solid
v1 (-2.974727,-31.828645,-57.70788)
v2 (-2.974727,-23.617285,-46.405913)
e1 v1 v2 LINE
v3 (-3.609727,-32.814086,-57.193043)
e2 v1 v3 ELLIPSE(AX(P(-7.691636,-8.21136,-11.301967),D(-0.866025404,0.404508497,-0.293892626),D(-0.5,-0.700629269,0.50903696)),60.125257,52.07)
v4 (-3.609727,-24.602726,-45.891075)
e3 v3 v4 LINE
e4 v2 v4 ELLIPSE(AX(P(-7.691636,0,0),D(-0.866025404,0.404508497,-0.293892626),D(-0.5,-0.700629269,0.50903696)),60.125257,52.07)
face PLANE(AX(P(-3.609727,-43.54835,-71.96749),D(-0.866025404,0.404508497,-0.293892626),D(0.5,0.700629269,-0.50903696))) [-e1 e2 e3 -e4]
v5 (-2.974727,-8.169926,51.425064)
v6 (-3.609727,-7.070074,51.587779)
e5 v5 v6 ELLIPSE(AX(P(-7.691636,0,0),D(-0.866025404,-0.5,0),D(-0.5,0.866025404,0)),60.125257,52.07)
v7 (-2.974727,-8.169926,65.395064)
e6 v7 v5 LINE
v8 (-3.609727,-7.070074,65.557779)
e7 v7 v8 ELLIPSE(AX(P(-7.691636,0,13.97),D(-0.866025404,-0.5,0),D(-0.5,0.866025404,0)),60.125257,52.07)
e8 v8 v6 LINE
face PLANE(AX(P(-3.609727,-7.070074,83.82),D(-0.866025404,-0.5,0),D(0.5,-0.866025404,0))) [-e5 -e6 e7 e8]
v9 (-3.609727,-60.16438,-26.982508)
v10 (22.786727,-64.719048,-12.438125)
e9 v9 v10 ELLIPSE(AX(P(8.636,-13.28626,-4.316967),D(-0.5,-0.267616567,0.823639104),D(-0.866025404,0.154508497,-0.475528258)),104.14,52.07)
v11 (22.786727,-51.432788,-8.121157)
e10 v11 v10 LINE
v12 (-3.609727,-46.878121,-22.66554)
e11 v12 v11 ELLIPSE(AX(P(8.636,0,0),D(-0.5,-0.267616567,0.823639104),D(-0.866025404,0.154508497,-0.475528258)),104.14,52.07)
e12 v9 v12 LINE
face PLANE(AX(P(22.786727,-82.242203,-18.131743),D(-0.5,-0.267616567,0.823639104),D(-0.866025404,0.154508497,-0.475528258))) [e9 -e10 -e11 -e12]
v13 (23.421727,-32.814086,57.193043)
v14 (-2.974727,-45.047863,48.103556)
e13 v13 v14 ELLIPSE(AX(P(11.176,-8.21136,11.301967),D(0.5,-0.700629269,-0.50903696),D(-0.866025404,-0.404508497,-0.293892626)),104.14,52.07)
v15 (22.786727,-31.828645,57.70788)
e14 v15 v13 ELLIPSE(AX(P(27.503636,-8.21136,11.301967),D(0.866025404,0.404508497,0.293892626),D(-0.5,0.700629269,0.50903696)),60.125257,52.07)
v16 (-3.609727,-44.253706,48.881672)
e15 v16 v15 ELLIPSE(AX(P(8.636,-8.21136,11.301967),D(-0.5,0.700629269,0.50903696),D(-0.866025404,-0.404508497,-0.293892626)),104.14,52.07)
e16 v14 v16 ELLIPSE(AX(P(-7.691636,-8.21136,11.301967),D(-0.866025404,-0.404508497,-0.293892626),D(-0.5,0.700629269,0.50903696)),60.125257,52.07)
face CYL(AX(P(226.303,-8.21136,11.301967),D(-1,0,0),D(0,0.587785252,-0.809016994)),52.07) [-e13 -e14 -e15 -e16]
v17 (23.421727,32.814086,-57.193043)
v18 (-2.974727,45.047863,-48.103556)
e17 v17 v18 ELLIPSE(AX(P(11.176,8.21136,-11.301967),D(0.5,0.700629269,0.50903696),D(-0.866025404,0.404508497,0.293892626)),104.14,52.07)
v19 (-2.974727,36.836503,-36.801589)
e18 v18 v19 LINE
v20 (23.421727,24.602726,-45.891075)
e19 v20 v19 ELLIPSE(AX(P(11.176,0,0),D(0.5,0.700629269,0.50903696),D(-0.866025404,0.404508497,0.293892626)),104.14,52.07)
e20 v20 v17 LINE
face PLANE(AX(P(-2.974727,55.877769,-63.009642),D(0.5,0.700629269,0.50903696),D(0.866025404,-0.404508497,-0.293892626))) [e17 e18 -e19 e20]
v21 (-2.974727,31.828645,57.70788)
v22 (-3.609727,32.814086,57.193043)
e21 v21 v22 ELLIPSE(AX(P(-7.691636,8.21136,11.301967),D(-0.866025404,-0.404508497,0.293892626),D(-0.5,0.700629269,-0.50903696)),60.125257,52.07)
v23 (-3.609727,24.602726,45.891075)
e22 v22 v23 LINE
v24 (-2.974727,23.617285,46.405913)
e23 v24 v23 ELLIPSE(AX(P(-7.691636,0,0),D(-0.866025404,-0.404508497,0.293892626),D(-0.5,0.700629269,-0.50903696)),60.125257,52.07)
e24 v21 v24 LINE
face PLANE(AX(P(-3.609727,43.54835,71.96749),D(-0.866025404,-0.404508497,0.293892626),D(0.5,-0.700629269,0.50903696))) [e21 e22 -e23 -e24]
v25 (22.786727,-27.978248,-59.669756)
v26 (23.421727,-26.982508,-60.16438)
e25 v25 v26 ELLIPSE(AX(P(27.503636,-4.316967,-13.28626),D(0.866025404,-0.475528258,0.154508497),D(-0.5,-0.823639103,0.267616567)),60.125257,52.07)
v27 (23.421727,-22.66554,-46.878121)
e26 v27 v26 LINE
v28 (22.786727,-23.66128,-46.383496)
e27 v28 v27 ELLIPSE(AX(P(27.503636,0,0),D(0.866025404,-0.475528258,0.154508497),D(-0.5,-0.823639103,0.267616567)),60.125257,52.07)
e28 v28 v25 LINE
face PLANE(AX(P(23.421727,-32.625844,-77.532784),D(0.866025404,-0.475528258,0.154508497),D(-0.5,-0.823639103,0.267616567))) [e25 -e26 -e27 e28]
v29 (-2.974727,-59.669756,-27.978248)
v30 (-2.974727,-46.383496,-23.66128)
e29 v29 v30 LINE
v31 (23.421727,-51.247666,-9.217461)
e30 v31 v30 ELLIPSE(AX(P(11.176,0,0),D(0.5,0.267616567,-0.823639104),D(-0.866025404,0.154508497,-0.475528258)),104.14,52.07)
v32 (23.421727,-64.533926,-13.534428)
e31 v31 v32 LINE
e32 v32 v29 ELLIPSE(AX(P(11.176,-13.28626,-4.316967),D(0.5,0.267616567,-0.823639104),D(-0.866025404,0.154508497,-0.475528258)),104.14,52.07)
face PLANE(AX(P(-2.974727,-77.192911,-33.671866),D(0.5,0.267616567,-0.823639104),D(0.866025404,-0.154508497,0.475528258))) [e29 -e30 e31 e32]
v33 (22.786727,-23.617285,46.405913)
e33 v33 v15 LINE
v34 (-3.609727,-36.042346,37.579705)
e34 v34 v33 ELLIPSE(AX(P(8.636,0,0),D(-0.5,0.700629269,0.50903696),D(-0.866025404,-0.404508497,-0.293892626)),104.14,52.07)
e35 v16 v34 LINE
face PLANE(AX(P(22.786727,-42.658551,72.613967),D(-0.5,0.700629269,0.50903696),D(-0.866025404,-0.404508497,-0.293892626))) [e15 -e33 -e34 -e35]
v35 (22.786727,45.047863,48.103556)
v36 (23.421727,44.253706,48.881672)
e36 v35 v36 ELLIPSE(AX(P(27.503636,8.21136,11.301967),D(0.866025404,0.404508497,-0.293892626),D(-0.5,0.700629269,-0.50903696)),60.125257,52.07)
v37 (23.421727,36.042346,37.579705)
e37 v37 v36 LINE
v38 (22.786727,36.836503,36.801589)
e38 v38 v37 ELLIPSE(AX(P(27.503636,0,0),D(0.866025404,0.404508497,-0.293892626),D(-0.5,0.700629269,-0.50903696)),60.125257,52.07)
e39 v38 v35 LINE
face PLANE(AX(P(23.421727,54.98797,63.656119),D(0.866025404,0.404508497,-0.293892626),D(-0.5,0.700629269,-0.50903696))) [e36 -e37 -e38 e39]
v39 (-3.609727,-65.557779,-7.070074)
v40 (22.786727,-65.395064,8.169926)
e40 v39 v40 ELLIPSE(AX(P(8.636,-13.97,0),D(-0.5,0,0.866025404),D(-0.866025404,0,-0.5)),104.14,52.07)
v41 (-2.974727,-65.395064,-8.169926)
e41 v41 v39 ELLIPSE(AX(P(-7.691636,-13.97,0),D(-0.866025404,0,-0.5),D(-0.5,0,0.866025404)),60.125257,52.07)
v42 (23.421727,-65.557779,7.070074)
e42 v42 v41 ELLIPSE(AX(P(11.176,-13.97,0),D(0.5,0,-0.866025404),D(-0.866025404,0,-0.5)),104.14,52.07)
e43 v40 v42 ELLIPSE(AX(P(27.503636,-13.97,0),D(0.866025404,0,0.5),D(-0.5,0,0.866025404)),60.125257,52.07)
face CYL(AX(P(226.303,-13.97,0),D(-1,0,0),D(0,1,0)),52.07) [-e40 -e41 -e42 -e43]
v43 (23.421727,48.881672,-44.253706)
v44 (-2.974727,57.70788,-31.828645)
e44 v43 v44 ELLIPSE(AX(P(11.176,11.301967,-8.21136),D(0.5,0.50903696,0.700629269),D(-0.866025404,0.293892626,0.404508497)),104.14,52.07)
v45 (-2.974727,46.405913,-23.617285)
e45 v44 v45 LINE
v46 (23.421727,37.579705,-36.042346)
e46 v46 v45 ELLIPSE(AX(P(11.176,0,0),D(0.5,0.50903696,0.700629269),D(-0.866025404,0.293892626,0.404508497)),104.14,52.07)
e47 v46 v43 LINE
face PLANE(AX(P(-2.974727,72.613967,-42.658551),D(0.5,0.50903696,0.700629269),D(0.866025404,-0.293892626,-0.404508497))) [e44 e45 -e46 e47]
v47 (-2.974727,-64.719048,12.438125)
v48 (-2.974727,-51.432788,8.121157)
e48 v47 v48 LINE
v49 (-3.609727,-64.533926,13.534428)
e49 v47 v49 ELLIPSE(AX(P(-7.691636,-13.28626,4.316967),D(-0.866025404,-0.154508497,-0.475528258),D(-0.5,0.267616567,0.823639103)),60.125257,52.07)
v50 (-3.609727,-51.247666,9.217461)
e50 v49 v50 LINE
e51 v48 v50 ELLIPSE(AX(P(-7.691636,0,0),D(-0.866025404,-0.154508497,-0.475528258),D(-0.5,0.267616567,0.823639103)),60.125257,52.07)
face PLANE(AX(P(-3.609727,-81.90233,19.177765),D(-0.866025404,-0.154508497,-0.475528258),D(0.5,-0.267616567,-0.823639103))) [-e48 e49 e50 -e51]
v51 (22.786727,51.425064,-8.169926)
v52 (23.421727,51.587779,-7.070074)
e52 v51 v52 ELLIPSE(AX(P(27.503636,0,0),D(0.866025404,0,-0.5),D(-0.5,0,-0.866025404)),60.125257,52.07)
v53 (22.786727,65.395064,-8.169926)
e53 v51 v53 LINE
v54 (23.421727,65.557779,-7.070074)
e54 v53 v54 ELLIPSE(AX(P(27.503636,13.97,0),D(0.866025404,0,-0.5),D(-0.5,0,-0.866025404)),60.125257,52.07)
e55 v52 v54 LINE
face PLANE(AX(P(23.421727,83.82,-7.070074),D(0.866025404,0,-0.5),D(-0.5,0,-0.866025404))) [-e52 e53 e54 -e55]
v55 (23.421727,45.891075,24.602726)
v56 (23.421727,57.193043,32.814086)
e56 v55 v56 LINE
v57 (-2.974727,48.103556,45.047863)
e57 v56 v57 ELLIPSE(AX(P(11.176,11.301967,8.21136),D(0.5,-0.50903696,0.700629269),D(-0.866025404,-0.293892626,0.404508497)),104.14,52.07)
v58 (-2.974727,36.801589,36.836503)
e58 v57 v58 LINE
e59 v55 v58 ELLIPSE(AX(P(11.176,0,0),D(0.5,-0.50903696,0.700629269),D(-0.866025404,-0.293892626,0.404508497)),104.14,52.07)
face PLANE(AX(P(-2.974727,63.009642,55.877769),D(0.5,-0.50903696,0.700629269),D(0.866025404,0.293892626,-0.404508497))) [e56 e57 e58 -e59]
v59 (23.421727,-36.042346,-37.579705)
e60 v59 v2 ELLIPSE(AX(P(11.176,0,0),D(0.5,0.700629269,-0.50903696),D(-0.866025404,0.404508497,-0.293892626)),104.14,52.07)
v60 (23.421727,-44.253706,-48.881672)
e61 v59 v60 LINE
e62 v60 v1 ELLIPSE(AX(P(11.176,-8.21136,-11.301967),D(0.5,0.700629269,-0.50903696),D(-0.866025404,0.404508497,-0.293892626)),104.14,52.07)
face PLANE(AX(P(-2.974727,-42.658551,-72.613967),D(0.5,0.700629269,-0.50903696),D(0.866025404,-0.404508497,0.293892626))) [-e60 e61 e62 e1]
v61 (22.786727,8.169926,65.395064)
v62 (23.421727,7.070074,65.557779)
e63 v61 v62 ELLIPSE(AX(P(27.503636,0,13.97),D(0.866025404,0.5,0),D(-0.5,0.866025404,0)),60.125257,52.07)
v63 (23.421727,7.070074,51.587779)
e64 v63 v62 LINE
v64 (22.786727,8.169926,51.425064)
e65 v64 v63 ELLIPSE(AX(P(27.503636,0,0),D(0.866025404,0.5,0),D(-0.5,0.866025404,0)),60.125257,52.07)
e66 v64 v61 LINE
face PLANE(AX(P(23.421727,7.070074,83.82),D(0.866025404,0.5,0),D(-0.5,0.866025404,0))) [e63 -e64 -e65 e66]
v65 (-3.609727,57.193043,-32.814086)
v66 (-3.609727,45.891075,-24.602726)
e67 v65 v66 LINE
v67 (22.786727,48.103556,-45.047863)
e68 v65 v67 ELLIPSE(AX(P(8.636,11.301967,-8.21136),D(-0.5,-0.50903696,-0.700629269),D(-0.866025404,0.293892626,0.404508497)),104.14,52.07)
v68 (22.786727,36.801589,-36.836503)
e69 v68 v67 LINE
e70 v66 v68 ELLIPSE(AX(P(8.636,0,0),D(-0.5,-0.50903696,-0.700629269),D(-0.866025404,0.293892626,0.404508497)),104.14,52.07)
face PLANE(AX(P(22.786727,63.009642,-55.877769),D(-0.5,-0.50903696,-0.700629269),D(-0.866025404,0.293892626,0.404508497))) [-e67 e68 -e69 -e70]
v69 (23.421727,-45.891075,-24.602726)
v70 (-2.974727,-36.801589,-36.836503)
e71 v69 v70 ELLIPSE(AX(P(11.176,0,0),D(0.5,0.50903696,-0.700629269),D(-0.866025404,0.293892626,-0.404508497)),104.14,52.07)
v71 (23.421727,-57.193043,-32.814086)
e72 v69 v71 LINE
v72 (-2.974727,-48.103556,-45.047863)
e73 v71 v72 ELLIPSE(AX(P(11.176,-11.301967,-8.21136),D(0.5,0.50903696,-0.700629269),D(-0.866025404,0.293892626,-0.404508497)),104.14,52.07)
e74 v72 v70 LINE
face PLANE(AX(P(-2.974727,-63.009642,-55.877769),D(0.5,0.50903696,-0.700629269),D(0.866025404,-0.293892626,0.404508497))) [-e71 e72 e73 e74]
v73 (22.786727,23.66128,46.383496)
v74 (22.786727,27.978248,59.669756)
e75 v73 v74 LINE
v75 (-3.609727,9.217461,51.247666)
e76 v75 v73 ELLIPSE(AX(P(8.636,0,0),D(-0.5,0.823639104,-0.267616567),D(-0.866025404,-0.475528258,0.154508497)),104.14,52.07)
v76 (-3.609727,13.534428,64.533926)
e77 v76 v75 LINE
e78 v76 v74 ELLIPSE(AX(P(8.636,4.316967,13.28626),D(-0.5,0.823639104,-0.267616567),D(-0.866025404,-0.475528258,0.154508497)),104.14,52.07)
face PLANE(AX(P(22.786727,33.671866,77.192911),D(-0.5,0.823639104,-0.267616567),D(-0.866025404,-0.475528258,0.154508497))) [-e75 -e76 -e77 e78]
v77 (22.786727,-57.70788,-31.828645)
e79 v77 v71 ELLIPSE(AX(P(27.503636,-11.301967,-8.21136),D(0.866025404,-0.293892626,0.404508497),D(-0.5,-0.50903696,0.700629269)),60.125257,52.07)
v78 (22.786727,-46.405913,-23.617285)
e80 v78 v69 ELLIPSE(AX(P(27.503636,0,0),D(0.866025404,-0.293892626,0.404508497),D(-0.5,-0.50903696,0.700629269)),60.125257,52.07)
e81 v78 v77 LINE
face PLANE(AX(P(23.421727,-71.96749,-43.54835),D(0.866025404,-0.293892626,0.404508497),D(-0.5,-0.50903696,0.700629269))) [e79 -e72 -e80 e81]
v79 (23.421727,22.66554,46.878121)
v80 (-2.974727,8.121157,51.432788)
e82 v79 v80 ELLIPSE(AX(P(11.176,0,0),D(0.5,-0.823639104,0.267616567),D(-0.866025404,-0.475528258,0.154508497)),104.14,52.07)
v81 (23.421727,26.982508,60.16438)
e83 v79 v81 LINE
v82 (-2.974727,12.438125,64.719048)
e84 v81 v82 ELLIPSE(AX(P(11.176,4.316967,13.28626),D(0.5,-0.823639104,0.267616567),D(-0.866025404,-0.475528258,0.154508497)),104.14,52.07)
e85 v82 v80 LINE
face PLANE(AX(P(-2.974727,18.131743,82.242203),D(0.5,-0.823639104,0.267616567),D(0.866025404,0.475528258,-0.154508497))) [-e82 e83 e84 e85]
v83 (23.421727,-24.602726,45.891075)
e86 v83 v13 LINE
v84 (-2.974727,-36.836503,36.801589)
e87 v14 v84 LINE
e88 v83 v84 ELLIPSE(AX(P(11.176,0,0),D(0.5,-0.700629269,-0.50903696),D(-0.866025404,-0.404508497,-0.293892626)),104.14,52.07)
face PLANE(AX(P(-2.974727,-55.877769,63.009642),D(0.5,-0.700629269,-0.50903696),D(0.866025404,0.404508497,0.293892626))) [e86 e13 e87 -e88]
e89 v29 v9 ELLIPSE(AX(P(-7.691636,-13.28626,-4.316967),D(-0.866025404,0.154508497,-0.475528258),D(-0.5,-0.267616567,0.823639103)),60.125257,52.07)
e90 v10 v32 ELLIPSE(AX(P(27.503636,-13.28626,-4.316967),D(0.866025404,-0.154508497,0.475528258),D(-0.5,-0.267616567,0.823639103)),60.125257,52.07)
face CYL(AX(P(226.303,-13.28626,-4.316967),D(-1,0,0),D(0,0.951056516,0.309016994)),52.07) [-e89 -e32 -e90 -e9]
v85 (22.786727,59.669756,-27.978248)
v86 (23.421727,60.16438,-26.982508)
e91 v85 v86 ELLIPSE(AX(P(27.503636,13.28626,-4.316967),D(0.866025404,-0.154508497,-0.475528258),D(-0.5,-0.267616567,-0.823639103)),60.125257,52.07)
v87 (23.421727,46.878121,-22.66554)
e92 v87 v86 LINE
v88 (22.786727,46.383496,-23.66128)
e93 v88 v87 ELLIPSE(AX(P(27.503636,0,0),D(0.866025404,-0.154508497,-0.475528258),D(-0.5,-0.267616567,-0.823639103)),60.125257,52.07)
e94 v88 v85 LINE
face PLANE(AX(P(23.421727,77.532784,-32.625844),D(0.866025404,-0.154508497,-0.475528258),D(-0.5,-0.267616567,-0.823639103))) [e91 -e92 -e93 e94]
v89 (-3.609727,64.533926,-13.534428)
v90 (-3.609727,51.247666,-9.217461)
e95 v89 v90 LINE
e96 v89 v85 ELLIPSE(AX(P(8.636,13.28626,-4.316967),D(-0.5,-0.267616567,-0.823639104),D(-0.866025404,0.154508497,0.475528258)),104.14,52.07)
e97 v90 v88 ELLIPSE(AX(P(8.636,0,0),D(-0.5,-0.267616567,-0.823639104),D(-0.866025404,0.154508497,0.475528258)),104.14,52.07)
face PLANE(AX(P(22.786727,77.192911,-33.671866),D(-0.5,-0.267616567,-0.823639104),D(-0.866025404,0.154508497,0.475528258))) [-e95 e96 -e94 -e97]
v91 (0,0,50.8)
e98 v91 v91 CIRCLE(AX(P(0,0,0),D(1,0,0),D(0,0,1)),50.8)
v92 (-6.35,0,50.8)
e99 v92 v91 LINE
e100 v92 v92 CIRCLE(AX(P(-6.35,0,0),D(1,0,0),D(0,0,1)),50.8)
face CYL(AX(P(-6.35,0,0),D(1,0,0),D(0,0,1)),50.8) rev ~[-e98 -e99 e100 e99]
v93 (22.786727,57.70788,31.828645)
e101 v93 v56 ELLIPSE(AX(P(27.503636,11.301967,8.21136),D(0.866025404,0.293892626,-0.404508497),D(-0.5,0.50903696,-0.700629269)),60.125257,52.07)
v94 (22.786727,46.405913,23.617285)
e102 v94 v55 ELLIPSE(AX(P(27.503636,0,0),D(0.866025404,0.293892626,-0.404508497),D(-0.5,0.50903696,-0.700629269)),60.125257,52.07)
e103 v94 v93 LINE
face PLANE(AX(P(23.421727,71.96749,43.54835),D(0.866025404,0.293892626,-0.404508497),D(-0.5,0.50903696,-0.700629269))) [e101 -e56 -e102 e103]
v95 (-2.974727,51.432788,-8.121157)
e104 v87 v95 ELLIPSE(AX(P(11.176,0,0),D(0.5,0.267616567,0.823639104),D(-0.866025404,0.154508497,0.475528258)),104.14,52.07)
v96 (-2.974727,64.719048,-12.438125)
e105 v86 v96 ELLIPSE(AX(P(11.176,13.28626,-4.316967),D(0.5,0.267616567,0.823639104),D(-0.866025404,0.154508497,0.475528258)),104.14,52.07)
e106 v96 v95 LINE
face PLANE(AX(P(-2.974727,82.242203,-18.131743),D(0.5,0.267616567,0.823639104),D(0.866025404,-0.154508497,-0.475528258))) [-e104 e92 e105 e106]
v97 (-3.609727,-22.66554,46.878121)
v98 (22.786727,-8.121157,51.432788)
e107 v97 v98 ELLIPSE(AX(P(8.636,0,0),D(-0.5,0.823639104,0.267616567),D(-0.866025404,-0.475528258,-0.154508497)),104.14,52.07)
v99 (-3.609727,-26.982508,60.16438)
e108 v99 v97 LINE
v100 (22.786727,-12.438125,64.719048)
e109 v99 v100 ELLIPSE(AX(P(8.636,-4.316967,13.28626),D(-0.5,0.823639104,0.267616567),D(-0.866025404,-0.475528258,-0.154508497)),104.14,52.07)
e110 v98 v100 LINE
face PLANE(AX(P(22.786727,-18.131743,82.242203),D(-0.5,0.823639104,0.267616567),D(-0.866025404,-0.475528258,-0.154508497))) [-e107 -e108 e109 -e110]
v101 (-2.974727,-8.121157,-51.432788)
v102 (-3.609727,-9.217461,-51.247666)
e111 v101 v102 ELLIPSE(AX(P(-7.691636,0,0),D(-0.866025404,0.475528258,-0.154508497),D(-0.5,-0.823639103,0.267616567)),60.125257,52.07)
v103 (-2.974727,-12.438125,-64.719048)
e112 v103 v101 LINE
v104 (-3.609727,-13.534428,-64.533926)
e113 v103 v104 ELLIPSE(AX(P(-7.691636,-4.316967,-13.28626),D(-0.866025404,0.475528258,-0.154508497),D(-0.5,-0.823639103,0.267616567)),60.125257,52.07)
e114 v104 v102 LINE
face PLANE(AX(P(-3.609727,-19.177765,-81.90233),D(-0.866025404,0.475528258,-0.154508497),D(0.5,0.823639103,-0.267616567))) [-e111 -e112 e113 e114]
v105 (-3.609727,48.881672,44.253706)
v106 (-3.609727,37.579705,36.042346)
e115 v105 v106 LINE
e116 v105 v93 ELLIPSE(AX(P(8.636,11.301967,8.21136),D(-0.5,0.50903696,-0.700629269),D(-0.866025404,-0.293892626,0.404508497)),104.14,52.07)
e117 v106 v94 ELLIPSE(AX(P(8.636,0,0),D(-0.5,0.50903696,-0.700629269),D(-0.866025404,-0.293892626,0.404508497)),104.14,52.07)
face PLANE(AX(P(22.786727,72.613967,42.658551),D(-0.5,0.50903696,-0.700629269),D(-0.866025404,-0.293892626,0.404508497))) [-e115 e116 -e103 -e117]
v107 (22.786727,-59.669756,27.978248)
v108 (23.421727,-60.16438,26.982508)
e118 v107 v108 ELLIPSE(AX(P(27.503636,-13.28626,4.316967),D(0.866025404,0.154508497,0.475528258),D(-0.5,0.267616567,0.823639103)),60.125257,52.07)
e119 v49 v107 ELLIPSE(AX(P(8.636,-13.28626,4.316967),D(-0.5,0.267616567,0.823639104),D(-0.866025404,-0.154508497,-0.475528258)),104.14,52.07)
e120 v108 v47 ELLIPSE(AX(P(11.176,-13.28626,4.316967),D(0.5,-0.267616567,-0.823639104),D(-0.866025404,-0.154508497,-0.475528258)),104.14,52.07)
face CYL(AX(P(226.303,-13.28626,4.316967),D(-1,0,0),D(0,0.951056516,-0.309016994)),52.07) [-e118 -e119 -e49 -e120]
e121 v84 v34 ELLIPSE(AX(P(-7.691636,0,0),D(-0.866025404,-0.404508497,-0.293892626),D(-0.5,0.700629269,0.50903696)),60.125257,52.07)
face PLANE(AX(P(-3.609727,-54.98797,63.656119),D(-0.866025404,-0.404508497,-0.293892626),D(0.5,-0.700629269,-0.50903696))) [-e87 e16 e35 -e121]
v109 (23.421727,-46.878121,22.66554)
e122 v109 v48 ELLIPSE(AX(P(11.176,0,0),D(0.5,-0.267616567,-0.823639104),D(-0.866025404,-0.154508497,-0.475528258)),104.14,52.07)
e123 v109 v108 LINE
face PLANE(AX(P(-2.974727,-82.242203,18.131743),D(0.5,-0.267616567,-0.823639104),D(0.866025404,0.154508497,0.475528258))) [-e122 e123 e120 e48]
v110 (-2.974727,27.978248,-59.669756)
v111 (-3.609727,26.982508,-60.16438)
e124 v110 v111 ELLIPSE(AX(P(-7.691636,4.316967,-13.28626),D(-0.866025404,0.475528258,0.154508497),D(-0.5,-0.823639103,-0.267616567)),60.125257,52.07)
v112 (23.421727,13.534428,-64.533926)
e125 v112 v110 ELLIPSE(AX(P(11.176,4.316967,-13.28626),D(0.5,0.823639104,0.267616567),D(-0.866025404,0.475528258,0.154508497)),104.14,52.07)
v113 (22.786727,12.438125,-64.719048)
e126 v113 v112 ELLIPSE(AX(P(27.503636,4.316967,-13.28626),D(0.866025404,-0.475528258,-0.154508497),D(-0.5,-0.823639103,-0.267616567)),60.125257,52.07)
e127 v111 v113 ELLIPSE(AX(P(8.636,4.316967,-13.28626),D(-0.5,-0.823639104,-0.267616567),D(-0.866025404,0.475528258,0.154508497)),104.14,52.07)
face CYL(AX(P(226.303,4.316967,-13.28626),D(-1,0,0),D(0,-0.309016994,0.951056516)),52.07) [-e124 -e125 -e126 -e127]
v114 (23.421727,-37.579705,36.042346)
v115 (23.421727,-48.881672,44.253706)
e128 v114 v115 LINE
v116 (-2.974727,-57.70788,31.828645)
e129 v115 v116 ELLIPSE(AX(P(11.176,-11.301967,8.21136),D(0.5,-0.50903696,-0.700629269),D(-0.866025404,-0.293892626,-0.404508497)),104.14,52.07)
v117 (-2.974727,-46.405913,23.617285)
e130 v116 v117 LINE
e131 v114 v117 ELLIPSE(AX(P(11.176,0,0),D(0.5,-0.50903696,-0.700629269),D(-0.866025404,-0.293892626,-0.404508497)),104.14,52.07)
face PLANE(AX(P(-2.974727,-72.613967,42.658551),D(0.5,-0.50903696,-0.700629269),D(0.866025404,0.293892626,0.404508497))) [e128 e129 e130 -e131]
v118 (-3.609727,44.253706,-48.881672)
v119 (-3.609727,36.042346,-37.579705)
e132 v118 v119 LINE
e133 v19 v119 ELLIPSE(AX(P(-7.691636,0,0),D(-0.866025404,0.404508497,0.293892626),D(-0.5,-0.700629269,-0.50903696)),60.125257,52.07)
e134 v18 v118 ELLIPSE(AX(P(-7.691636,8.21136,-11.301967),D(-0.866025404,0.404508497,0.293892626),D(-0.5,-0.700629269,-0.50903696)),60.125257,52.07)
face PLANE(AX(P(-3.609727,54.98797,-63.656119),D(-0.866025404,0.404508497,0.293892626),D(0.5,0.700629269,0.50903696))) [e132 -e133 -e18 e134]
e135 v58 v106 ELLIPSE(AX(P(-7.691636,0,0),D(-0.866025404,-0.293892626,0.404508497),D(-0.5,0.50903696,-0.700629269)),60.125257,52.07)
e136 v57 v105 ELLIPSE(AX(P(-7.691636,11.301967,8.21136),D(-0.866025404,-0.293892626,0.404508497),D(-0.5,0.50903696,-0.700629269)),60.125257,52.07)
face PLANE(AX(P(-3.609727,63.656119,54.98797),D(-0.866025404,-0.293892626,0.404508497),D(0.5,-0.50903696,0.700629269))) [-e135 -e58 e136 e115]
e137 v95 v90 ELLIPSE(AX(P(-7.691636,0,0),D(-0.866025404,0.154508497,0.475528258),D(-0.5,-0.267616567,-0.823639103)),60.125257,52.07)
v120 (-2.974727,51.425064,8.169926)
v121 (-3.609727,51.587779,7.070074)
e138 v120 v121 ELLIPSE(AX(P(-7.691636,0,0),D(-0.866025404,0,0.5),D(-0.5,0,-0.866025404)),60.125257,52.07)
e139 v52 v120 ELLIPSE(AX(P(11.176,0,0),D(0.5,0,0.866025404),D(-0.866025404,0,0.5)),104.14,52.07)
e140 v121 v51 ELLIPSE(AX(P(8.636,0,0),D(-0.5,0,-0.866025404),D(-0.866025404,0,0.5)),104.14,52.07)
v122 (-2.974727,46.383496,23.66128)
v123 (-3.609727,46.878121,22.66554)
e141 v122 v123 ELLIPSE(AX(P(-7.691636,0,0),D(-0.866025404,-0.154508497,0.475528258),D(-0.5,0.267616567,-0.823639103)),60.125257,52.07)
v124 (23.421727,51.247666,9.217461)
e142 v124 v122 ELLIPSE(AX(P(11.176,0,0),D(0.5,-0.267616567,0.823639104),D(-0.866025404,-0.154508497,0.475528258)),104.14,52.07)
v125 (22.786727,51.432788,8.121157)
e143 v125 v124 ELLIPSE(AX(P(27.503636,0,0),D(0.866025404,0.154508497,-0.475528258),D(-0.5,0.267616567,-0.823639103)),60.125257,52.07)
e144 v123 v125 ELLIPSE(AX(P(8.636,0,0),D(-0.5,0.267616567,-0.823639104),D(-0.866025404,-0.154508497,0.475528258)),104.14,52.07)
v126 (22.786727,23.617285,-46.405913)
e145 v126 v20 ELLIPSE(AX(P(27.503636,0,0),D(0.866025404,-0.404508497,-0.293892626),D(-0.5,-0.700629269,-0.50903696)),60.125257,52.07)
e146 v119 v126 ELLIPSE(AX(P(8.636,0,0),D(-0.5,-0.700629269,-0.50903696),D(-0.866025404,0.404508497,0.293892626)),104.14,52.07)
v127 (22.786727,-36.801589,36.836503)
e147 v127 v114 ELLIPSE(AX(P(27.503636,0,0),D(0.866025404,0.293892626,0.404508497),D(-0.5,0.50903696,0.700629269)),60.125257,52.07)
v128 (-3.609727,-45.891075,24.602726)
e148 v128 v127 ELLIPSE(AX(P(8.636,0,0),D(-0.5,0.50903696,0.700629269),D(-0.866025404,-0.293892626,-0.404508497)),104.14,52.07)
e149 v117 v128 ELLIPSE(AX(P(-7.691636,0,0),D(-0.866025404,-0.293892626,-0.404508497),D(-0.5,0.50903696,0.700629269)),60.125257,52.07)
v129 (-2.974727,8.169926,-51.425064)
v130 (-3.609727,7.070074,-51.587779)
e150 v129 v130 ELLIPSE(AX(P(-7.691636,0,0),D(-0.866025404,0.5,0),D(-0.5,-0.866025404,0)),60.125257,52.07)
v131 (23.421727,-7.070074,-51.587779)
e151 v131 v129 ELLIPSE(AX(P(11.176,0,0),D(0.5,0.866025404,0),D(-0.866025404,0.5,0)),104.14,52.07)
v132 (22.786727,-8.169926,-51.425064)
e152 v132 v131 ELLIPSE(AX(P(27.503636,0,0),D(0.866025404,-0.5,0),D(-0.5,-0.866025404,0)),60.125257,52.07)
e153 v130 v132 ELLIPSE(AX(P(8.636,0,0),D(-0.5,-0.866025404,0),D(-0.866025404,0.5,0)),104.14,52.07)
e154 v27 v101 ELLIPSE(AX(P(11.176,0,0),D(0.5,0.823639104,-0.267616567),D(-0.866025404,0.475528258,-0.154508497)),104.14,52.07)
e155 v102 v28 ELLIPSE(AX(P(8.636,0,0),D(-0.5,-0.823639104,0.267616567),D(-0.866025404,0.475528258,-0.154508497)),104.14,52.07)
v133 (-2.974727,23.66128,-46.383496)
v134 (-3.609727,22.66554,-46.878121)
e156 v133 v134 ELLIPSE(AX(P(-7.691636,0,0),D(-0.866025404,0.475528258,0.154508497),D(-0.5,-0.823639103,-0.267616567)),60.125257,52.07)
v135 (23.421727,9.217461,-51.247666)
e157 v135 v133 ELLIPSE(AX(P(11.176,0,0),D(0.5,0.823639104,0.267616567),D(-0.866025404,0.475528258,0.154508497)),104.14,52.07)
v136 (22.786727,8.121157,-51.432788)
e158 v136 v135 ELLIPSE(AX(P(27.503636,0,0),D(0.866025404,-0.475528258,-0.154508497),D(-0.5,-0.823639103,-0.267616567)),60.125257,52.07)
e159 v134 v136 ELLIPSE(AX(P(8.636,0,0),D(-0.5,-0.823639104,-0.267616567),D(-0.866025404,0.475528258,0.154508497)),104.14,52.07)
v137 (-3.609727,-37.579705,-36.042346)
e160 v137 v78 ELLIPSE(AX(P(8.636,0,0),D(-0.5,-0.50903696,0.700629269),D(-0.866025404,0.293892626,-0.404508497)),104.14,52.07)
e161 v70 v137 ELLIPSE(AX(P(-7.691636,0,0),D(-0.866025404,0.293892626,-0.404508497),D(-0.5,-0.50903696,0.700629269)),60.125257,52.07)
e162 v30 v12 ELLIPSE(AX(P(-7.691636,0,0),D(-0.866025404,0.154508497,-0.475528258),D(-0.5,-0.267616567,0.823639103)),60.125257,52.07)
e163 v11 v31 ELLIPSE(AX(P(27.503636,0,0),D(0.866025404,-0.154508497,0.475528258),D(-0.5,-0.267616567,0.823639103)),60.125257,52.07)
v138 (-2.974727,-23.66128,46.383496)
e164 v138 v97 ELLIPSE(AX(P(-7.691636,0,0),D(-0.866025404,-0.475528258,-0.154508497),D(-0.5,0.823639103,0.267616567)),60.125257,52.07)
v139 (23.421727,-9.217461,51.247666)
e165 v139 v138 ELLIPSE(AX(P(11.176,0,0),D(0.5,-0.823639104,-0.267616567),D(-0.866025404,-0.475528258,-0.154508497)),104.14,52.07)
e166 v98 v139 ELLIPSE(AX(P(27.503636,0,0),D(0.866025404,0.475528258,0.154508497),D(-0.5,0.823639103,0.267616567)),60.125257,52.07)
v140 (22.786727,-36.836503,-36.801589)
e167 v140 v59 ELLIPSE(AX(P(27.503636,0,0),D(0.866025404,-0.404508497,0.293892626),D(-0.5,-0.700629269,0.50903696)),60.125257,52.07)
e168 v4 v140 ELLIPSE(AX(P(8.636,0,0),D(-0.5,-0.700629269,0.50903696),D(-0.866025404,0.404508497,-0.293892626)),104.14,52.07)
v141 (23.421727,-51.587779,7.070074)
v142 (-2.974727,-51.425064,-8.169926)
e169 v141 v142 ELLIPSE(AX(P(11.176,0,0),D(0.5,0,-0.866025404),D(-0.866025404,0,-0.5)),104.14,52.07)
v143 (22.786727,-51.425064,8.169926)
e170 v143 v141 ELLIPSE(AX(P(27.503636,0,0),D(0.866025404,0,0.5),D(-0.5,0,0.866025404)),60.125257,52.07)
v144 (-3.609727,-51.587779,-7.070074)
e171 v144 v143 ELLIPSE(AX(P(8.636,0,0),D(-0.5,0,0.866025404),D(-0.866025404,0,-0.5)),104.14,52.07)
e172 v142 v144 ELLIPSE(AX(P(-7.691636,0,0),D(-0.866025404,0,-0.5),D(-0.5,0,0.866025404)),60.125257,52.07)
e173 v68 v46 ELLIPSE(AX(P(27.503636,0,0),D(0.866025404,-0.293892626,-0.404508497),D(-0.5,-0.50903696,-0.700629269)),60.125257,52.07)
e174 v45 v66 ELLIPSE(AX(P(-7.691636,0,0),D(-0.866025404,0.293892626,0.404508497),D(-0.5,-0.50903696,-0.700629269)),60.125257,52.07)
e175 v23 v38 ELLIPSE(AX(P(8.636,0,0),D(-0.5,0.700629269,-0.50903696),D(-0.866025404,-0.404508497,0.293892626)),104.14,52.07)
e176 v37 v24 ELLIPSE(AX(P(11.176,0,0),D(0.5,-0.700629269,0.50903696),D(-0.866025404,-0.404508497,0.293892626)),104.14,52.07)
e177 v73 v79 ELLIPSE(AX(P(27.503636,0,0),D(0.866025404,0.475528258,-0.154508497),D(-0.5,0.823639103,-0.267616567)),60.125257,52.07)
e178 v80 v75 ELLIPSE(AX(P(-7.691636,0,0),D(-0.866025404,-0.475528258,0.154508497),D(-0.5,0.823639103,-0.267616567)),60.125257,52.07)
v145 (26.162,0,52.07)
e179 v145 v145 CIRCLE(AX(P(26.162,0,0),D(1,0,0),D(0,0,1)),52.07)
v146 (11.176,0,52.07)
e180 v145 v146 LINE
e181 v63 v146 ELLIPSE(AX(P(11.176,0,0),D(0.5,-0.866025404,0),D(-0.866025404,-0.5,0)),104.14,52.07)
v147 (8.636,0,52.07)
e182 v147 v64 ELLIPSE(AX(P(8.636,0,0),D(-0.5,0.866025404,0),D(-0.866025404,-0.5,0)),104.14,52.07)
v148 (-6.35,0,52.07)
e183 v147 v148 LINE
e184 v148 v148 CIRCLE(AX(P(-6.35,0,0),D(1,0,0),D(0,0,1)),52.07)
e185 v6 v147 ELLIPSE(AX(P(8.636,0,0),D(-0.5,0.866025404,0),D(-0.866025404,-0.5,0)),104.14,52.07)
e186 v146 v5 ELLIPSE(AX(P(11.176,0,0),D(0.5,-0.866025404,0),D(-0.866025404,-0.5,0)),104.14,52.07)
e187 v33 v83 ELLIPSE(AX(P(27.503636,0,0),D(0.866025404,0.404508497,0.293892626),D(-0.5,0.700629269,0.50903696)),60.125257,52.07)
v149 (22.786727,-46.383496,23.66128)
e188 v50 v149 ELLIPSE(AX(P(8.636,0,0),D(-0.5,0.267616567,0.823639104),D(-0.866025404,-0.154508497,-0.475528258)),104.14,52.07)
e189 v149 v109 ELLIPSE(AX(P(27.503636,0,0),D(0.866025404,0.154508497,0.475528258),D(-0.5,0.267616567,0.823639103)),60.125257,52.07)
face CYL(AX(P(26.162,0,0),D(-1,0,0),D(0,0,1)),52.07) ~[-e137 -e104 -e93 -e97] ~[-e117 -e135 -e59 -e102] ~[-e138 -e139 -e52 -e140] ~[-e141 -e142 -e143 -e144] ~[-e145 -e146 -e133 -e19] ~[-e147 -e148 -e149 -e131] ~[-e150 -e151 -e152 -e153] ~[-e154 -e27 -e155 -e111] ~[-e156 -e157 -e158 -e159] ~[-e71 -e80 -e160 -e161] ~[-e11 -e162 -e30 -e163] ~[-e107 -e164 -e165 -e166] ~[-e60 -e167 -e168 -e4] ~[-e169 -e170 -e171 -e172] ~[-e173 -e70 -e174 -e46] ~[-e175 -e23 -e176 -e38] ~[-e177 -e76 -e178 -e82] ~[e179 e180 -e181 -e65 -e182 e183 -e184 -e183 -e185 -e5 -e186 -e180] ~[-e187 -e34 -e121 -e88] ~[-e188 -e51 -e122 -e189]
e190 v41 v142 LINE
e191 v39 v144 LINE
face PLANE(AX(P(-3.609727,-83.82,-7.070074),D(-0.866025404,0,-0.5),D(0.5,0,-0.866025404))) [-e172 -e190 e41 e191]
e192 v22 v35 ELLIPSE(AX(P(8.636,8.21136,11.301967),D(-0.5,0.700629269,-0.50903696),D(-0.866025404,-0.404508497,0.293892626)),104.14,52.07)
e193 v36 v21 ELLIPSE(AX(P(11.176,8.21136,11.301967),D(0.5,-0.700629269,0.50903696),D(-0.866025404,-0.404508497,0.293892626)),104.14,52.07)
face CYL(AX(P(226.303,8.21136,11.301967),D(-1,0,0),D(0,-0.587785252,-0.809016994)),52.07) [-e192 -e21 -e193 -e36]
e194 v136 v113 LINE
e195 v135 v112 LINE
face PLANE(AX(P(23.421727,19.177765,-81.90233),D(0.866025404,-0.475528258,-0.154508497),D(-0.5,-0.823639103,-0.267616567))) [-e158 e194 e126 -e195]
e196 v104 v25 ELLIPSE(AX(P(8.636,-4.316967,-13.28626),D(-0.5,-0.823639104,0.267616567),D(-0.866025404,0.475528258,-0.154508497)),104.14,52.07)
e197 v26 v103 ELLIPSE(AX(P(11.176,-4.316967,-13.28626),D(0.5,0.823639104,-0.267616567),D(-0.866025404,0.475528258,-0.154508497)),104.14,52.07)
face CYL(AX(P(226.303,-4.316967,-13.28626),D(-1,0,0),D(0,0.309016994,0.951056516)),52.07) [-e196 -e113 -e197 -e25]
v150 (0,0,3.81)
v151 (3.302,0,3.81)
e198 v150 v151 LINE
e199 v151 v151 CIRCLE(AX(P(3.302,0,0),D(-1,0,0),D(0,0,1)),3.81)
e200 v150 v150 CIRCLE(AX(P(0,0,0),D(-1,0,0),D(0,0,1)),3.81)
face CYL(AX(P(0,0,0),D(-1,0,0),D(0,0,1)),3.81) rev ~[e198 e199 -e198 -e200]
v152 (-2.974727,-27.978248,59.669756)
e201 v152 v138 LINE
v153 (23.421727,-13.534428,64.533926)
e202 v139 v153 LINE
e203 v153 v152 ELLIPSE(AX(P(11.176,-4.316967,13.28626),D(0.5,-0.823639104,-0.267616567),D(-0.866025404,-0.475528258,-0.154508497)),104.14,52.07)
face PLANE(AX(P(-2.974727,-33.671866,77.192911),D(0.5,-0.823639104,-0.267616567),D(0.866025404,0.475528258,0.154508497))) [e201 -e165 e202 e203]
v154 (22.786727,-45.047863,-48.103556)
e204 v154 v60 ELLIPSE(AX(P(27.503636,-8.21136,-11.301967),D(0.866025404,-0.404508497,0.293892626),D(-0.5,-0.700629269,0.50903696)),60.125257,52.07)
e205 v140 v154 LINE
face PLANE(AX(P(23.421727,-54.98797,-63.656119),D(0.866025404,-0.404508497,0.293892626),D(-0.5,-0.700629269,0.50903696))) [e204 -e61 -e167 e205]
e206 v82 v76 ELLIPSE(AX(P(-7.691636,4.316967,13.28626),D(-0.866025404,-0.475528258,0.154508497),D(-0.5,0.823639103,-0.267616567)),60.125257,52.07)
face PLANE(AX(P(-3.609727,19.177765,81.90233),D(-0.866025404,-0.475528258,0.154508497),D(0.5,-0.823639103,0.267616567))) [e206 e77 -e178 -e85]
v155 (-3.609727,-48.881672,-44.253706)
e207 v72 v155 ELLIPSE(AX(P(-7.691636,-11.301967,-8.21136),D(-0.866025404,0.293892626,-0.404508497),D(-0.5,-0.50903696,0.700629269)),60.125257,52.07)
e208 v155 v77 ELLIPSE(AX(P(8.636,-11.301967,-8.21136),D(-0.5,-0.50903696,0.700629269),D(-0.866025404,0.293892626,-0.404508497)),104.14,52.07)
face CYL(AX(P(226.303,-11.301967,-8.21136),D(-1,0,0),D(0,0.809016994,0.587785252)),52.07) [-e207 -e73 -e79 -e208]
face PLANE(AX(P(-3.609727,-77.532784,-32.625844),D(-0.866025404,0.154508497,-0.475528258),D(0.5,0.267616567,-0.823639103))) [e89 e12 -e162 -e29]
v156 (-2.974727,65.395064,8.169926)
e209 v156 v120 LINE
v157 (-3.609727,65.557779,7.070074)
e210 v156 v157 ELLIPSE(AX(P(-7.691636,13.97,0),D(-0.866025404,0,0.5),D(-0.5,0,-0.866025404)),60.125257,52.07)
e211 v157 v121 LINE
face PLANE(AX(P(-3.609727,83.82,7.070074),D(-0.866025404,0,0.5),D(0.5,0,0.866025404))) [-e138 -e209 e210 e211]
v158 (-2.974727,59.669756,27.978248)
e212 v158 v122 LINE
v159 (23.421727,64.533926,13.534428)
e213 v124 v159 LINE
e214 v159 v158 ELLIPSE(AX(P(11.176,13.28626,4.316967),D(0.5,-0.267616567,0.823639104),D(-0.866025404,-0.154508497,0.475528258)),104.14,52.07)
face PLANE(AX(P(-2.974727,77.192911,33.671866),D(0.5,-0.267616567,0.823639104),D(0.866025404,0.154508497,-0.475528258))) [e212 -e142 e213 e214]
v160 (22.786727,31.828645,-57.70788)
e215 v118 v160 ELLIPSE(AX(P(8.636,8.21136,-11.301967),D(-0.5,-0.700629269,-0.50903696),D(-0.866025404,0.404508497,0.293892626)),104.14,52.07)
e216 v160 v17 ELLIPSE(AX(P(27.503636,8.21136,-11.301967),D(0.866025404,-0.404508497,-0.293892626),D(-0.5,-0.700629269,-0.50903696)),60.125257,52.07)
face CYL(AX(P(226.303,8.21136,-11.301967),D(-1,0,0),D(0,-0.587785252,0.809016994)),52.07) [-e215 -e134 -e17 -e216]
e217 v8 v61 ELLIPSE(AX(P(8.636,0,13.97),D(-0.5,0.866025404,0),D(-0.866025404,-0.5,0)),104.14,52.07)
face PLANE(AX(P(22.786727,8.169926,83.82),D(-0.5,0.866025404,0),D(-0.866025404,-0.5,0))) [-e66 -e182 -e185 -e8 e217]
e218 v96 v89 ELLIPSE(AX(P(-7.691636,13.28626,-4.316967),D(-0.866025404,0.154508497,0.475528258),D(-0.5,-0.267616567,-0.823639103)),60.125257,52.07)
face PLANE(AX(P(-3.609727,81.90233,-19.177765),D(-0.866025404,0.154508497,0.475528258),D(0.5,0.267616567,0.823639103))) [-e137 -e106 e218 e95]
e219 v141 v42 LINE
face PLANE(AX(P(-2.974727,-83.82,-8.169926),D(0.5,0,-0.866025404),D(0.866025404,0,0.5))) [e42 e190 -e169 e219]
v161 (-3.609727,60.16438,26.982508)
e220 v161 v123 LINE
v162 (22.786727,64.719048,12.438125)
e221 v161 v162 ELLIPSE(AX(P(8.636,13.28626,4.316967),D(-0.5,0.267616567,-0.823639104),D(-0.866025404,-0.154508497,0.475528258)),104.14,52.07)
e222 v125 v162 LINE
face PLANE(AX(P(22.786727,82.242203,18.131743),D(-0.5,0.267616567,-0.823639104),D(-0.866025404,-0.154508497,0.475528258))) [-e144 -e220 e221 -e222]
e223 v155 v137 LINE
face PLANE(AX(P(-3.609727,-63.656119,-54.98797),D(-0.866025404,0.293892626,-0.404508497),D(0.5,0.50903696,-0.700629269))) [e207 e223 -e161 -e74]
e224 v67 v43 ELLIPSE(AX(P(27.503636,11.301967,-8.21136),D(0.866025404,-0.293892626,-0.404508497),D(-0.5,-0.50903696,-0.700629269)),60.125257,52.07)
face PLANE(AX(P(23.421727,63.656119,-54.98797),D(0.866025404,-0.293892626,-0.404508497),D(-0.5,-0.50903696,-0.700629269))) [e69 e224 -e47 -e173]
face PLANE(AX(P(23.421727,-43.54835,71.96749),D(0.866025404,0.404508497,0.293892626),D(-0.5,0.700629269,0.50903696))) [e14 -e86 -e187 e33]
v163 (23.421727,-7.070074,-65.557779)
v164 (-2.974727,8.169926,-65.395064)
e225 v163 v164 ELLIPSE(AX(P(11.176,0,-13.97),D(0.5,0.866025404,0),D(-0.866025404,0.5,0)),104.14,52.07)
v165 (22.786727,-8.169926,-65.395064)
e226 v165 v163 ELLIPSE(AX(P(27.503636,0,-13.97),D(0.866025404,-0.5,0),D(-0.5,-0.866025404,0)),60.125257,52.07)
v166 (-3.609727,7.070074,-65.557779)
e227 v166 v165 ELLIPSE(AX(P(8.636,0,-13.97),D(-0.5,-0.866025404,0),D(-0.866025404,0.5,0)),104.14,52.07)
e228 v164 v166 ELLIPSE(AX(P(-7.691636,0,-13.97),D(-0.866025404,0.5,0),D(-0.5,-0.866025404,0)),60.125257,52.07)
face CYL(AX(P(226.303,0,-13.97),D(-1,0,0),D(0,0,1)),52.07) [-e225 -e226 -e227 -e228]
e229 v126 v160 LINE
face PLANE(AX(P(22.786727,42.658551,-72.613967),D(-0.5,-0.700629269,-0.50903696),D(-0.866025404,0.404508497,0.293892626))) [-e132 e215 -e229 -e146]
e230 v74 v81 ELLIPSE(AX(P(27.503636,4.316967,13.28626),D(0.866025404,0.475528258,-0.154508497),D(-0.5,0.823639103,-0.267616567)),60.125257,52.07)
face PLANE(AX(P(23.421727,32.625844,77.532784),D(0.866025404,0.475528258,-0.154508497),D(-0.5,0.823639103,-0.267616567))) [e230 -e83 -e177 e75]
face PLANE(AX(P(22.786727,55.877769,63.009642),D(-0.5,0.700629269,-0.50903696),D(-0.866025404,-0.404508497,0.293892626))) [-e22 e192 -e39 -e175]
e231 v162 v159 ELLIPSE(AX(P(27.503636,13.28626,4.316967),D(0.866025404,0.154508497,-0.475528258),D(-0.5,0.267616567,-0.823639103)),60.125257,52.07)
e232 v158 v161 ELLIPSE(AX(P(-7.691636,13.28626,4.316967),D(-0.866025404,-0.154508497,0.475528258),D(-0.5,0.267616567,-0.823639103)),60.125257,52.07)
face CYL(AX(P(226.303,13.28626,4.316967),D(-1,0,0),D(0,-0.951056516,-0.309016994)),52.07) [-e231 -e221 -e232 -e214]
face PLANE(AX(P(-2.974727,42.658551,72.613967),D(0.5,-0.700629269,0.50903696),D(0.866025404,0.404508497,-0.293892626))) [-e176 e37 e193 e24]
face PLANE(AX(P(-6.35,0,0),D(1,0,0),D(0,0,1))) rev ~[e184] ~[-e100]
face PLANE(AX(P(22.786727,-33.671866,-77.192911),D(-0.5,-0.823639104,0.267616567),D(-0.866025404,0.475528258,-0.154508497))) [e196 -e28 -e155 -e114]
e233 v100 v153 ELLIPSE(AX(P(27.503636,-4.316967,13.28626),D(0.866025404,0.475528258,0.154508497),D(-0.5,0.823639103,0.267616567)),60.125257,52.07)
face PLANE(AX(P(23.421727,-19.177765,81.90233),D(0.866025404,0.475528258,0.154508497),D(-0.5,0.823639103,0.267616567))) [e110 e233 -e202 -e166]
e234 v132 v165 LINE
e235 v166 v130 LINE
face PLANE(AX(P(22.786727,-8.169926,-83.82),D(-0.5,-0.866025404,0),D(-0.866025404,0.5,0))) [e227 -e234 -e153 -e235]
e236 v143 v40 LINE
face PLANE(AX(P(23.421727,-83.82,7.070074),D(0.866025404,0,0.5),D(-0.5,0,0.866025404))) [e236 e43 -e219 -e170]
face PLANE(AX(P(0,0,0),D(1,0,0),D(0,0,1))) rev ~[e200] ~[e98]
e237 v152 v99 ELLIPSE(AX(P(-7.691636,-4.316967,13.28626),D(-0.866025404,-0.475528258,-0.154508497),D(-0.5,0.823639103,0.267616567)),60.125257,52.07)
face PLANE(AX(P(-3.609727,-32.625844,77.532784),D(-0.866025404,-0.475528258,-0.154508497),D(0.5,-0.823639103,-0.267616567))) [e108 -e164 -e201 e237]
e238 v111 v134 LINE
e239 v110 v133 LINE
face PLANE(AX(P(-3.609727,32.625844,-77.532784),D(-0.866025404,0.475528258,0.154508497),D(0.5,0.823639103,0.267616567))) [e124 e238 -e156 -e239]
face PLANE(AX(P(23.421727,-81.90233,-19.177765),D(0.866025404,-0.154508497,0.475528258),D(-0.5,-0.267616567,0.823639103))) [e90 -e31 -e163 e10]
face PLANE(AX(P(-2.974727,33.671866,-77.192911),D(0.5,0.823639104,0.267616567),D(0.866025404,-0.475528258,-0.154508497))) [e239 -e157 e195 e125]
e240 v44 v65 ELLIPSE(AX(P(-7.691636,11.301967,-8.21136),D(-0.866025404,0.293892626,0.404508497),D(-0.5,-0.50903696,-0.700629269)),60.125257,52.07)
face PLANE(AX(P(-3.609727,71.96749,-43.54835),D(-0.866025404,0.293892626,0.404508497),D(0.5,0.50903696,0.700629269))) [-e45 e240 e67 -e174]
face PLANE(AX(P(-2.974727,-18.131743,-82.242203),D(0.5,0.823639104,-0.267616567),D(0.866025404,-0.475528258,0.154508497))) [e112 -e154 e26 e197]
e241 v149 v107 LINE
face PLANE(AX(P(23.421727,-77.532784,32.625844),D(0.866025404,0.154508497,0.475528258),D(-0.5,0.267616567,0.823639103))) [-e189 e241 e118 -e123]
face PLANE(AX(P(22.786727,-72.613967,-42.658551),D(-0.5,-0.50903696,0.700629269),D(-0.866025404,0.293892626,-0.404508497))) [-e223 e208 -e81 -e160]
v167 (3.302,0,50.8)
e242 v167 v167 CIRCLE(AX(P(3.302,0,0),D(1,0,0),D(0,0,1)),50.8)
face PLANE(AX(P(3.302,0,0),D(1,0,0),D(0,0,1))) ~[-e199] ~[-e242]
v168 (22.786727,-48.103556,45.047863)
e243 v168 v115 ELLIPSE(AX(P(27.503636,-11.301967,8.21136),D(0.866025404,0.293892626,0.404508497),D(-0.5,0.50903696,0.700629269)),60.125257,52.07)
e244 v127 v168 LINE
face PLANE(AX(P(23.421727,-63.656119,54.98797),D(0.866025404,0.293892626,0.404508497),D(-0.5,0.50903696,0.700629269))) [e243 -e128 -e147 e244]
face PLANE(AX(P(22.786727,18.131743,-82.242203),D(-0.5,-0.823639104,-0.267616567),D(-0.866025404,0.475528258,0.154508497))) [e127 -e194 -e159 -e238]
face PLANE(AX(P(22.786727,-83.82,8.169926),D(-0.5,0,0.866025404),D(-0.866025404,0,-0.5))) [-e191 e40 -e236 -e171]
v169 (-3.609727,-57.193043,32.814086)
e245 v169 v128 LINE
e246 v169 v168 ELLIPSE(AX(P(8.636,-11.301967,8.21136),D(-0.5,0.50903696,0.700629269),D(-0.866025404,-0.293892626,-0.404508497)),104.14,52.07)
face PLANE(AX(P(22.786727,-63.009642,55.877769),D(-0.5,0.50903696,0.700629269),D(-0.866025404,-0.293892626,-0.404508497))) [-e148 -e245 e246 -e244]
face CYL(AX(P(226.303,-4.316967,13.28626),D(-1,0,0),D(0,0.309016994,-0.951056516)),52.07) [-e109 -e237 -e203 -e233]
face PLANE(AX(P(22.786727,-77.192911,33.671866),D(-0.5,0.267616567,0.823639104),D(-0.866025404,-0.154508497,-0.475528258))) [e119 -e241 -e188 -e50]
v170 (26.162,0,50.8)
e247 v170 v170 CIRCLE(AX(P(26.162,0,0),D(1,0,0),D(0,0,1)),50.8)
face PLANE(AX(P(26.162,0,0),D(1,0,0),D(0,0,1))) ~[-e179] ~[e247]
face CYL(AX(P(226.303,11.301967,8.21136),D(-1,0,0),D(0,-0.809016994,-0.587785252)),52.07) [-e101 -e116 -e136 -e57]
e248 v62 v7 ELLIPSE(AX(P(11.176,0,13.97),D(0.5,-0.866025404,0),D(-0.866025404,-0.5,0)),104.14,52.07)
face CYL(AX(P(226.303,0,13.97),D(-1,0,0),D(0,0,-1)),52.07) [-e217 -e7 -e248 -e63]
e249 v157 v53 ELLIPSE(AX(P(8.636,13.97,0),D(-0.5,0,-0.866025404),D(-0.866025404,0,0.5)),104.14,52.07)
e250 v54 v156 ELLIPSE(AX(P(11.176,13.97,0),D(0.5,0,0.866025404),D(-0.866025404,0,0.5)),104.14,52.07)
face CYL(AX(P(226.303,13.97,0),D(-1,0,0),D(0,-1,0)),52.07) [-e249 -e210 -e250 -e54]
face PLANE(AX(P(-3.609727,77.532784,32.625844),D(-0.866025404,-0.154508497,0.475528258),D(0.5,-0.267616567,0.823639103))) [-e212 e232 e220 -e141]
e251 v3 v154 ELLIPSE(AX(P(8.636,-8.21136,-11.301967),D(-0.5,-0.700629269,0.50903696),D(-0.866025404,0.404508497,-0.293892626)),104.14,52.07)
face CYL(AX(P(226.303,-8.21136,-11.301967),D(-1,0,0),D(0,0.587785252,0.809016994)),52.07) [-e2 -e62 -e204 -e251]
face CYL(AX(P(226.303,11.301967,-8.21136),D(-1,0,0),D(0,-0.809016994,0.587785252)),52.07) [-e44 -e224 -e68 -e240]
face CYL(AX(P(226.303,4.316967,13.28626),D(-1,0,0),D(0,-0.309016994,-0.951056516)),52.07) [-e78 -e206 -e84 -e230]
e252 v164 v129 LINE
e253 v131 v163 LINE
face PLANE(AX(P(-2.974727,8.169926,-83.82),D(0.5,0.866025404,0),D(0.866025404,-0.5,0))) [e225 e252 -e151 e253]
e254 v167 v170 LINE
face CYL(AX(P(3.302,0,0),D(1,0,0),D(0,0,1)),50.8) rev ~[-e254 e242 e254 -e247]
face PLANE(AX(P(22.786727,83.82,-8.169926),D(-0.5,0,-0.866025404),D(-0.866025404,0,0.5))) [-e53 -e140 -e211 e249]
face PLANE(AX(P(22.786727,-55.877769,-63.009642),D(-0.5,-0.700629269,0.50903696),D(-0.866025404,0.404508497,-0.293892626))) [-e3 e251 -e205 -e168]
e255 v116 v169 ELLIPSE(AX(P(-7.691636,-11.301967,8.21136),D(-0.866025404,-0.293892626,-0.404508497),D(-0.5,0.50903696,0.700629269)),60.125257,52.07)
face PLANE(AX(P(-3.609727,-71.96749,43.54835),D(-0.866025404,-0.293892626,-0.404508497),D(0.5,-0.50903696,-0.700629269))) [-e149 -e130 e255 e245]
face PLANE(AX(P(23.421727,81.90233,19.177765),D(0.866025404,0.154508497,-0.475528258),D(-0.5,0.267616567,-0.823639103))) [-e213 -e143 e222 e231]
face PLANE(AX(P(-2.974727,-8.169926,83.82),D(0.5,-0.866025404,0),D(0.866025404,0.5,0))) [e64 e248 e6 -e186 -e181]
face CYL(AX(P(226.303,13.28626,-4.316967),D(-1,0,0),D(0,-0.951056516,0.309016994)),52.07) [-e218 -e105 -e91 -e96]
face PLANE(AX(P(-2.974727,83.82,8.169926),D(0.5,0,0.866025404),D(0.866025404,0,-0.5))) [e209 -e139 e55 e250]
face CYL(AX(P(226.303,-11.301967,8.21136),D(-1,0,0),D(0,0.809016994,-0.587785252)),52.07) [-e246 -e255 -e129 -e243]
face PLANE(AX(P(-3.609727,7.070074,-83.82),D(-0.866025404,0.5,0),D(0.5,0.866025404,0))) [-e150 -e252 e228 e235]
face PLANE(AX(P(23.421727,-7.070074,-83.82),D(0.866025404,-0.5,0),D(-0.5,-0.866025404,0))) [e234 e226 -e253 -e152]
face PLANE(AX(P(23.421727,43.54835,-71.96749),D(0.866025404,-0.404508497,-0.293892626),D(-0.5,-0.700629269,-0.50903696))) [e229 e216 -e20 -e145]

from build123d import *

# Parameters (mm, degrees)
BOSS_EXTRUDE1_REACH        = 163.827
BOSS_EXTRUDE1_START_RADIUS = 52.07
BOSS_EXTRUDE1_END_RADIUS   = 52.07
CIRPATTERN15_COUNT         = 20
SKETCH7_R                  = 3.81
CUT_EXTRUDE1_DEPTH         = 97.98975948


with BuildPart() as part:
    # Sketch1 → Revolve1 (revolve)
    with BuildSketch(Plane(origin=(0, 0, 0), x_dir=(1, 0, 0), z_dir=(0, 1, 0)), mode=Mode.PRIVATE) as revolve1_sk:
        Polygon((3.302, 0), (3.302, 50.8), (26.162, 50.8), (26.162, 52.07), (-6.35, 52.07), (-6.35, 50.8), (0, 50.8), (0, 0), align=None)
    revolve(revolve1_sk.sketch.rotate(Axis((0, 0, 0), (1, 0, 0)), 180), axis=Axis((0, 0, 0), (1, 0, 0)))

    # Boss-Extrude1: from a cylinder face, 163.827 long prism both ways, kept between that surface and its translate by the depth
    boss_extrude1_start = Plane(origin=(9.906, 0, 0), z_dir=(-1, 0, 0)) * Cylinder(BOSS_EXTRUDE1_START_RADIUS, 432.794, mode=Mode.PRIVATE)
    boss_extrude1_end = Plane(origin=(9.906, 0, 13.97), z_dir=(-1, 0, 0)) * Cylinder(BOSS_EXTRUDE1_END_RADIUS, 432.794, mode=Mode.PRIVATE)
    # Sketch2 → Boss-Extrude1 (add, from a surface)
    with BuildSketch(Plane.XY.offset(83.82), mode=Mode.PRIVATE) as boss_extrude1_sk1:
        Polygon((-2.974727154, -8.169926131), (23.421727154, 7.070073869), (22.786727154, 8.169926131), (-3.609727154, -7.070073869), align=None)
    boss_extrude1_tool1 = extrude(boss_extrude1_sk1.sketch, amount=BOSS_EXTRUDE1_REACH, both=True, mode=Mode.PRIVATE)
    boss_extrude1 = ((boss_extrude1_tool1 - boss_extrude1_start) & boss_extrude1_end).solids().sort_by_distance((9.906, 0, 58.491422))[0]
    add(boss_extrude1)

    # CirPattern15: Boss-Extrude1 ×20 about axis
    cirpattern15_axis = Axis((0, 0, 0), (1, 0, 0))
    for i in range(1, CIRPATTERN15_COUNT):
        add(boss_extrude1.rotate(cirpattern15_axis, i * 360 / CIRPATTERN15_COUNT))

    # Sketch7 → Cut-Extrude1 (cut, through all)
    with BuildSketch(Plane.ZY):
        Circle(SKETCH7_R)
    extrude(amount=-CUT_EXTRUDE1_DEPTH, mode=Mode.SUBTRACT)


solid = part.part
